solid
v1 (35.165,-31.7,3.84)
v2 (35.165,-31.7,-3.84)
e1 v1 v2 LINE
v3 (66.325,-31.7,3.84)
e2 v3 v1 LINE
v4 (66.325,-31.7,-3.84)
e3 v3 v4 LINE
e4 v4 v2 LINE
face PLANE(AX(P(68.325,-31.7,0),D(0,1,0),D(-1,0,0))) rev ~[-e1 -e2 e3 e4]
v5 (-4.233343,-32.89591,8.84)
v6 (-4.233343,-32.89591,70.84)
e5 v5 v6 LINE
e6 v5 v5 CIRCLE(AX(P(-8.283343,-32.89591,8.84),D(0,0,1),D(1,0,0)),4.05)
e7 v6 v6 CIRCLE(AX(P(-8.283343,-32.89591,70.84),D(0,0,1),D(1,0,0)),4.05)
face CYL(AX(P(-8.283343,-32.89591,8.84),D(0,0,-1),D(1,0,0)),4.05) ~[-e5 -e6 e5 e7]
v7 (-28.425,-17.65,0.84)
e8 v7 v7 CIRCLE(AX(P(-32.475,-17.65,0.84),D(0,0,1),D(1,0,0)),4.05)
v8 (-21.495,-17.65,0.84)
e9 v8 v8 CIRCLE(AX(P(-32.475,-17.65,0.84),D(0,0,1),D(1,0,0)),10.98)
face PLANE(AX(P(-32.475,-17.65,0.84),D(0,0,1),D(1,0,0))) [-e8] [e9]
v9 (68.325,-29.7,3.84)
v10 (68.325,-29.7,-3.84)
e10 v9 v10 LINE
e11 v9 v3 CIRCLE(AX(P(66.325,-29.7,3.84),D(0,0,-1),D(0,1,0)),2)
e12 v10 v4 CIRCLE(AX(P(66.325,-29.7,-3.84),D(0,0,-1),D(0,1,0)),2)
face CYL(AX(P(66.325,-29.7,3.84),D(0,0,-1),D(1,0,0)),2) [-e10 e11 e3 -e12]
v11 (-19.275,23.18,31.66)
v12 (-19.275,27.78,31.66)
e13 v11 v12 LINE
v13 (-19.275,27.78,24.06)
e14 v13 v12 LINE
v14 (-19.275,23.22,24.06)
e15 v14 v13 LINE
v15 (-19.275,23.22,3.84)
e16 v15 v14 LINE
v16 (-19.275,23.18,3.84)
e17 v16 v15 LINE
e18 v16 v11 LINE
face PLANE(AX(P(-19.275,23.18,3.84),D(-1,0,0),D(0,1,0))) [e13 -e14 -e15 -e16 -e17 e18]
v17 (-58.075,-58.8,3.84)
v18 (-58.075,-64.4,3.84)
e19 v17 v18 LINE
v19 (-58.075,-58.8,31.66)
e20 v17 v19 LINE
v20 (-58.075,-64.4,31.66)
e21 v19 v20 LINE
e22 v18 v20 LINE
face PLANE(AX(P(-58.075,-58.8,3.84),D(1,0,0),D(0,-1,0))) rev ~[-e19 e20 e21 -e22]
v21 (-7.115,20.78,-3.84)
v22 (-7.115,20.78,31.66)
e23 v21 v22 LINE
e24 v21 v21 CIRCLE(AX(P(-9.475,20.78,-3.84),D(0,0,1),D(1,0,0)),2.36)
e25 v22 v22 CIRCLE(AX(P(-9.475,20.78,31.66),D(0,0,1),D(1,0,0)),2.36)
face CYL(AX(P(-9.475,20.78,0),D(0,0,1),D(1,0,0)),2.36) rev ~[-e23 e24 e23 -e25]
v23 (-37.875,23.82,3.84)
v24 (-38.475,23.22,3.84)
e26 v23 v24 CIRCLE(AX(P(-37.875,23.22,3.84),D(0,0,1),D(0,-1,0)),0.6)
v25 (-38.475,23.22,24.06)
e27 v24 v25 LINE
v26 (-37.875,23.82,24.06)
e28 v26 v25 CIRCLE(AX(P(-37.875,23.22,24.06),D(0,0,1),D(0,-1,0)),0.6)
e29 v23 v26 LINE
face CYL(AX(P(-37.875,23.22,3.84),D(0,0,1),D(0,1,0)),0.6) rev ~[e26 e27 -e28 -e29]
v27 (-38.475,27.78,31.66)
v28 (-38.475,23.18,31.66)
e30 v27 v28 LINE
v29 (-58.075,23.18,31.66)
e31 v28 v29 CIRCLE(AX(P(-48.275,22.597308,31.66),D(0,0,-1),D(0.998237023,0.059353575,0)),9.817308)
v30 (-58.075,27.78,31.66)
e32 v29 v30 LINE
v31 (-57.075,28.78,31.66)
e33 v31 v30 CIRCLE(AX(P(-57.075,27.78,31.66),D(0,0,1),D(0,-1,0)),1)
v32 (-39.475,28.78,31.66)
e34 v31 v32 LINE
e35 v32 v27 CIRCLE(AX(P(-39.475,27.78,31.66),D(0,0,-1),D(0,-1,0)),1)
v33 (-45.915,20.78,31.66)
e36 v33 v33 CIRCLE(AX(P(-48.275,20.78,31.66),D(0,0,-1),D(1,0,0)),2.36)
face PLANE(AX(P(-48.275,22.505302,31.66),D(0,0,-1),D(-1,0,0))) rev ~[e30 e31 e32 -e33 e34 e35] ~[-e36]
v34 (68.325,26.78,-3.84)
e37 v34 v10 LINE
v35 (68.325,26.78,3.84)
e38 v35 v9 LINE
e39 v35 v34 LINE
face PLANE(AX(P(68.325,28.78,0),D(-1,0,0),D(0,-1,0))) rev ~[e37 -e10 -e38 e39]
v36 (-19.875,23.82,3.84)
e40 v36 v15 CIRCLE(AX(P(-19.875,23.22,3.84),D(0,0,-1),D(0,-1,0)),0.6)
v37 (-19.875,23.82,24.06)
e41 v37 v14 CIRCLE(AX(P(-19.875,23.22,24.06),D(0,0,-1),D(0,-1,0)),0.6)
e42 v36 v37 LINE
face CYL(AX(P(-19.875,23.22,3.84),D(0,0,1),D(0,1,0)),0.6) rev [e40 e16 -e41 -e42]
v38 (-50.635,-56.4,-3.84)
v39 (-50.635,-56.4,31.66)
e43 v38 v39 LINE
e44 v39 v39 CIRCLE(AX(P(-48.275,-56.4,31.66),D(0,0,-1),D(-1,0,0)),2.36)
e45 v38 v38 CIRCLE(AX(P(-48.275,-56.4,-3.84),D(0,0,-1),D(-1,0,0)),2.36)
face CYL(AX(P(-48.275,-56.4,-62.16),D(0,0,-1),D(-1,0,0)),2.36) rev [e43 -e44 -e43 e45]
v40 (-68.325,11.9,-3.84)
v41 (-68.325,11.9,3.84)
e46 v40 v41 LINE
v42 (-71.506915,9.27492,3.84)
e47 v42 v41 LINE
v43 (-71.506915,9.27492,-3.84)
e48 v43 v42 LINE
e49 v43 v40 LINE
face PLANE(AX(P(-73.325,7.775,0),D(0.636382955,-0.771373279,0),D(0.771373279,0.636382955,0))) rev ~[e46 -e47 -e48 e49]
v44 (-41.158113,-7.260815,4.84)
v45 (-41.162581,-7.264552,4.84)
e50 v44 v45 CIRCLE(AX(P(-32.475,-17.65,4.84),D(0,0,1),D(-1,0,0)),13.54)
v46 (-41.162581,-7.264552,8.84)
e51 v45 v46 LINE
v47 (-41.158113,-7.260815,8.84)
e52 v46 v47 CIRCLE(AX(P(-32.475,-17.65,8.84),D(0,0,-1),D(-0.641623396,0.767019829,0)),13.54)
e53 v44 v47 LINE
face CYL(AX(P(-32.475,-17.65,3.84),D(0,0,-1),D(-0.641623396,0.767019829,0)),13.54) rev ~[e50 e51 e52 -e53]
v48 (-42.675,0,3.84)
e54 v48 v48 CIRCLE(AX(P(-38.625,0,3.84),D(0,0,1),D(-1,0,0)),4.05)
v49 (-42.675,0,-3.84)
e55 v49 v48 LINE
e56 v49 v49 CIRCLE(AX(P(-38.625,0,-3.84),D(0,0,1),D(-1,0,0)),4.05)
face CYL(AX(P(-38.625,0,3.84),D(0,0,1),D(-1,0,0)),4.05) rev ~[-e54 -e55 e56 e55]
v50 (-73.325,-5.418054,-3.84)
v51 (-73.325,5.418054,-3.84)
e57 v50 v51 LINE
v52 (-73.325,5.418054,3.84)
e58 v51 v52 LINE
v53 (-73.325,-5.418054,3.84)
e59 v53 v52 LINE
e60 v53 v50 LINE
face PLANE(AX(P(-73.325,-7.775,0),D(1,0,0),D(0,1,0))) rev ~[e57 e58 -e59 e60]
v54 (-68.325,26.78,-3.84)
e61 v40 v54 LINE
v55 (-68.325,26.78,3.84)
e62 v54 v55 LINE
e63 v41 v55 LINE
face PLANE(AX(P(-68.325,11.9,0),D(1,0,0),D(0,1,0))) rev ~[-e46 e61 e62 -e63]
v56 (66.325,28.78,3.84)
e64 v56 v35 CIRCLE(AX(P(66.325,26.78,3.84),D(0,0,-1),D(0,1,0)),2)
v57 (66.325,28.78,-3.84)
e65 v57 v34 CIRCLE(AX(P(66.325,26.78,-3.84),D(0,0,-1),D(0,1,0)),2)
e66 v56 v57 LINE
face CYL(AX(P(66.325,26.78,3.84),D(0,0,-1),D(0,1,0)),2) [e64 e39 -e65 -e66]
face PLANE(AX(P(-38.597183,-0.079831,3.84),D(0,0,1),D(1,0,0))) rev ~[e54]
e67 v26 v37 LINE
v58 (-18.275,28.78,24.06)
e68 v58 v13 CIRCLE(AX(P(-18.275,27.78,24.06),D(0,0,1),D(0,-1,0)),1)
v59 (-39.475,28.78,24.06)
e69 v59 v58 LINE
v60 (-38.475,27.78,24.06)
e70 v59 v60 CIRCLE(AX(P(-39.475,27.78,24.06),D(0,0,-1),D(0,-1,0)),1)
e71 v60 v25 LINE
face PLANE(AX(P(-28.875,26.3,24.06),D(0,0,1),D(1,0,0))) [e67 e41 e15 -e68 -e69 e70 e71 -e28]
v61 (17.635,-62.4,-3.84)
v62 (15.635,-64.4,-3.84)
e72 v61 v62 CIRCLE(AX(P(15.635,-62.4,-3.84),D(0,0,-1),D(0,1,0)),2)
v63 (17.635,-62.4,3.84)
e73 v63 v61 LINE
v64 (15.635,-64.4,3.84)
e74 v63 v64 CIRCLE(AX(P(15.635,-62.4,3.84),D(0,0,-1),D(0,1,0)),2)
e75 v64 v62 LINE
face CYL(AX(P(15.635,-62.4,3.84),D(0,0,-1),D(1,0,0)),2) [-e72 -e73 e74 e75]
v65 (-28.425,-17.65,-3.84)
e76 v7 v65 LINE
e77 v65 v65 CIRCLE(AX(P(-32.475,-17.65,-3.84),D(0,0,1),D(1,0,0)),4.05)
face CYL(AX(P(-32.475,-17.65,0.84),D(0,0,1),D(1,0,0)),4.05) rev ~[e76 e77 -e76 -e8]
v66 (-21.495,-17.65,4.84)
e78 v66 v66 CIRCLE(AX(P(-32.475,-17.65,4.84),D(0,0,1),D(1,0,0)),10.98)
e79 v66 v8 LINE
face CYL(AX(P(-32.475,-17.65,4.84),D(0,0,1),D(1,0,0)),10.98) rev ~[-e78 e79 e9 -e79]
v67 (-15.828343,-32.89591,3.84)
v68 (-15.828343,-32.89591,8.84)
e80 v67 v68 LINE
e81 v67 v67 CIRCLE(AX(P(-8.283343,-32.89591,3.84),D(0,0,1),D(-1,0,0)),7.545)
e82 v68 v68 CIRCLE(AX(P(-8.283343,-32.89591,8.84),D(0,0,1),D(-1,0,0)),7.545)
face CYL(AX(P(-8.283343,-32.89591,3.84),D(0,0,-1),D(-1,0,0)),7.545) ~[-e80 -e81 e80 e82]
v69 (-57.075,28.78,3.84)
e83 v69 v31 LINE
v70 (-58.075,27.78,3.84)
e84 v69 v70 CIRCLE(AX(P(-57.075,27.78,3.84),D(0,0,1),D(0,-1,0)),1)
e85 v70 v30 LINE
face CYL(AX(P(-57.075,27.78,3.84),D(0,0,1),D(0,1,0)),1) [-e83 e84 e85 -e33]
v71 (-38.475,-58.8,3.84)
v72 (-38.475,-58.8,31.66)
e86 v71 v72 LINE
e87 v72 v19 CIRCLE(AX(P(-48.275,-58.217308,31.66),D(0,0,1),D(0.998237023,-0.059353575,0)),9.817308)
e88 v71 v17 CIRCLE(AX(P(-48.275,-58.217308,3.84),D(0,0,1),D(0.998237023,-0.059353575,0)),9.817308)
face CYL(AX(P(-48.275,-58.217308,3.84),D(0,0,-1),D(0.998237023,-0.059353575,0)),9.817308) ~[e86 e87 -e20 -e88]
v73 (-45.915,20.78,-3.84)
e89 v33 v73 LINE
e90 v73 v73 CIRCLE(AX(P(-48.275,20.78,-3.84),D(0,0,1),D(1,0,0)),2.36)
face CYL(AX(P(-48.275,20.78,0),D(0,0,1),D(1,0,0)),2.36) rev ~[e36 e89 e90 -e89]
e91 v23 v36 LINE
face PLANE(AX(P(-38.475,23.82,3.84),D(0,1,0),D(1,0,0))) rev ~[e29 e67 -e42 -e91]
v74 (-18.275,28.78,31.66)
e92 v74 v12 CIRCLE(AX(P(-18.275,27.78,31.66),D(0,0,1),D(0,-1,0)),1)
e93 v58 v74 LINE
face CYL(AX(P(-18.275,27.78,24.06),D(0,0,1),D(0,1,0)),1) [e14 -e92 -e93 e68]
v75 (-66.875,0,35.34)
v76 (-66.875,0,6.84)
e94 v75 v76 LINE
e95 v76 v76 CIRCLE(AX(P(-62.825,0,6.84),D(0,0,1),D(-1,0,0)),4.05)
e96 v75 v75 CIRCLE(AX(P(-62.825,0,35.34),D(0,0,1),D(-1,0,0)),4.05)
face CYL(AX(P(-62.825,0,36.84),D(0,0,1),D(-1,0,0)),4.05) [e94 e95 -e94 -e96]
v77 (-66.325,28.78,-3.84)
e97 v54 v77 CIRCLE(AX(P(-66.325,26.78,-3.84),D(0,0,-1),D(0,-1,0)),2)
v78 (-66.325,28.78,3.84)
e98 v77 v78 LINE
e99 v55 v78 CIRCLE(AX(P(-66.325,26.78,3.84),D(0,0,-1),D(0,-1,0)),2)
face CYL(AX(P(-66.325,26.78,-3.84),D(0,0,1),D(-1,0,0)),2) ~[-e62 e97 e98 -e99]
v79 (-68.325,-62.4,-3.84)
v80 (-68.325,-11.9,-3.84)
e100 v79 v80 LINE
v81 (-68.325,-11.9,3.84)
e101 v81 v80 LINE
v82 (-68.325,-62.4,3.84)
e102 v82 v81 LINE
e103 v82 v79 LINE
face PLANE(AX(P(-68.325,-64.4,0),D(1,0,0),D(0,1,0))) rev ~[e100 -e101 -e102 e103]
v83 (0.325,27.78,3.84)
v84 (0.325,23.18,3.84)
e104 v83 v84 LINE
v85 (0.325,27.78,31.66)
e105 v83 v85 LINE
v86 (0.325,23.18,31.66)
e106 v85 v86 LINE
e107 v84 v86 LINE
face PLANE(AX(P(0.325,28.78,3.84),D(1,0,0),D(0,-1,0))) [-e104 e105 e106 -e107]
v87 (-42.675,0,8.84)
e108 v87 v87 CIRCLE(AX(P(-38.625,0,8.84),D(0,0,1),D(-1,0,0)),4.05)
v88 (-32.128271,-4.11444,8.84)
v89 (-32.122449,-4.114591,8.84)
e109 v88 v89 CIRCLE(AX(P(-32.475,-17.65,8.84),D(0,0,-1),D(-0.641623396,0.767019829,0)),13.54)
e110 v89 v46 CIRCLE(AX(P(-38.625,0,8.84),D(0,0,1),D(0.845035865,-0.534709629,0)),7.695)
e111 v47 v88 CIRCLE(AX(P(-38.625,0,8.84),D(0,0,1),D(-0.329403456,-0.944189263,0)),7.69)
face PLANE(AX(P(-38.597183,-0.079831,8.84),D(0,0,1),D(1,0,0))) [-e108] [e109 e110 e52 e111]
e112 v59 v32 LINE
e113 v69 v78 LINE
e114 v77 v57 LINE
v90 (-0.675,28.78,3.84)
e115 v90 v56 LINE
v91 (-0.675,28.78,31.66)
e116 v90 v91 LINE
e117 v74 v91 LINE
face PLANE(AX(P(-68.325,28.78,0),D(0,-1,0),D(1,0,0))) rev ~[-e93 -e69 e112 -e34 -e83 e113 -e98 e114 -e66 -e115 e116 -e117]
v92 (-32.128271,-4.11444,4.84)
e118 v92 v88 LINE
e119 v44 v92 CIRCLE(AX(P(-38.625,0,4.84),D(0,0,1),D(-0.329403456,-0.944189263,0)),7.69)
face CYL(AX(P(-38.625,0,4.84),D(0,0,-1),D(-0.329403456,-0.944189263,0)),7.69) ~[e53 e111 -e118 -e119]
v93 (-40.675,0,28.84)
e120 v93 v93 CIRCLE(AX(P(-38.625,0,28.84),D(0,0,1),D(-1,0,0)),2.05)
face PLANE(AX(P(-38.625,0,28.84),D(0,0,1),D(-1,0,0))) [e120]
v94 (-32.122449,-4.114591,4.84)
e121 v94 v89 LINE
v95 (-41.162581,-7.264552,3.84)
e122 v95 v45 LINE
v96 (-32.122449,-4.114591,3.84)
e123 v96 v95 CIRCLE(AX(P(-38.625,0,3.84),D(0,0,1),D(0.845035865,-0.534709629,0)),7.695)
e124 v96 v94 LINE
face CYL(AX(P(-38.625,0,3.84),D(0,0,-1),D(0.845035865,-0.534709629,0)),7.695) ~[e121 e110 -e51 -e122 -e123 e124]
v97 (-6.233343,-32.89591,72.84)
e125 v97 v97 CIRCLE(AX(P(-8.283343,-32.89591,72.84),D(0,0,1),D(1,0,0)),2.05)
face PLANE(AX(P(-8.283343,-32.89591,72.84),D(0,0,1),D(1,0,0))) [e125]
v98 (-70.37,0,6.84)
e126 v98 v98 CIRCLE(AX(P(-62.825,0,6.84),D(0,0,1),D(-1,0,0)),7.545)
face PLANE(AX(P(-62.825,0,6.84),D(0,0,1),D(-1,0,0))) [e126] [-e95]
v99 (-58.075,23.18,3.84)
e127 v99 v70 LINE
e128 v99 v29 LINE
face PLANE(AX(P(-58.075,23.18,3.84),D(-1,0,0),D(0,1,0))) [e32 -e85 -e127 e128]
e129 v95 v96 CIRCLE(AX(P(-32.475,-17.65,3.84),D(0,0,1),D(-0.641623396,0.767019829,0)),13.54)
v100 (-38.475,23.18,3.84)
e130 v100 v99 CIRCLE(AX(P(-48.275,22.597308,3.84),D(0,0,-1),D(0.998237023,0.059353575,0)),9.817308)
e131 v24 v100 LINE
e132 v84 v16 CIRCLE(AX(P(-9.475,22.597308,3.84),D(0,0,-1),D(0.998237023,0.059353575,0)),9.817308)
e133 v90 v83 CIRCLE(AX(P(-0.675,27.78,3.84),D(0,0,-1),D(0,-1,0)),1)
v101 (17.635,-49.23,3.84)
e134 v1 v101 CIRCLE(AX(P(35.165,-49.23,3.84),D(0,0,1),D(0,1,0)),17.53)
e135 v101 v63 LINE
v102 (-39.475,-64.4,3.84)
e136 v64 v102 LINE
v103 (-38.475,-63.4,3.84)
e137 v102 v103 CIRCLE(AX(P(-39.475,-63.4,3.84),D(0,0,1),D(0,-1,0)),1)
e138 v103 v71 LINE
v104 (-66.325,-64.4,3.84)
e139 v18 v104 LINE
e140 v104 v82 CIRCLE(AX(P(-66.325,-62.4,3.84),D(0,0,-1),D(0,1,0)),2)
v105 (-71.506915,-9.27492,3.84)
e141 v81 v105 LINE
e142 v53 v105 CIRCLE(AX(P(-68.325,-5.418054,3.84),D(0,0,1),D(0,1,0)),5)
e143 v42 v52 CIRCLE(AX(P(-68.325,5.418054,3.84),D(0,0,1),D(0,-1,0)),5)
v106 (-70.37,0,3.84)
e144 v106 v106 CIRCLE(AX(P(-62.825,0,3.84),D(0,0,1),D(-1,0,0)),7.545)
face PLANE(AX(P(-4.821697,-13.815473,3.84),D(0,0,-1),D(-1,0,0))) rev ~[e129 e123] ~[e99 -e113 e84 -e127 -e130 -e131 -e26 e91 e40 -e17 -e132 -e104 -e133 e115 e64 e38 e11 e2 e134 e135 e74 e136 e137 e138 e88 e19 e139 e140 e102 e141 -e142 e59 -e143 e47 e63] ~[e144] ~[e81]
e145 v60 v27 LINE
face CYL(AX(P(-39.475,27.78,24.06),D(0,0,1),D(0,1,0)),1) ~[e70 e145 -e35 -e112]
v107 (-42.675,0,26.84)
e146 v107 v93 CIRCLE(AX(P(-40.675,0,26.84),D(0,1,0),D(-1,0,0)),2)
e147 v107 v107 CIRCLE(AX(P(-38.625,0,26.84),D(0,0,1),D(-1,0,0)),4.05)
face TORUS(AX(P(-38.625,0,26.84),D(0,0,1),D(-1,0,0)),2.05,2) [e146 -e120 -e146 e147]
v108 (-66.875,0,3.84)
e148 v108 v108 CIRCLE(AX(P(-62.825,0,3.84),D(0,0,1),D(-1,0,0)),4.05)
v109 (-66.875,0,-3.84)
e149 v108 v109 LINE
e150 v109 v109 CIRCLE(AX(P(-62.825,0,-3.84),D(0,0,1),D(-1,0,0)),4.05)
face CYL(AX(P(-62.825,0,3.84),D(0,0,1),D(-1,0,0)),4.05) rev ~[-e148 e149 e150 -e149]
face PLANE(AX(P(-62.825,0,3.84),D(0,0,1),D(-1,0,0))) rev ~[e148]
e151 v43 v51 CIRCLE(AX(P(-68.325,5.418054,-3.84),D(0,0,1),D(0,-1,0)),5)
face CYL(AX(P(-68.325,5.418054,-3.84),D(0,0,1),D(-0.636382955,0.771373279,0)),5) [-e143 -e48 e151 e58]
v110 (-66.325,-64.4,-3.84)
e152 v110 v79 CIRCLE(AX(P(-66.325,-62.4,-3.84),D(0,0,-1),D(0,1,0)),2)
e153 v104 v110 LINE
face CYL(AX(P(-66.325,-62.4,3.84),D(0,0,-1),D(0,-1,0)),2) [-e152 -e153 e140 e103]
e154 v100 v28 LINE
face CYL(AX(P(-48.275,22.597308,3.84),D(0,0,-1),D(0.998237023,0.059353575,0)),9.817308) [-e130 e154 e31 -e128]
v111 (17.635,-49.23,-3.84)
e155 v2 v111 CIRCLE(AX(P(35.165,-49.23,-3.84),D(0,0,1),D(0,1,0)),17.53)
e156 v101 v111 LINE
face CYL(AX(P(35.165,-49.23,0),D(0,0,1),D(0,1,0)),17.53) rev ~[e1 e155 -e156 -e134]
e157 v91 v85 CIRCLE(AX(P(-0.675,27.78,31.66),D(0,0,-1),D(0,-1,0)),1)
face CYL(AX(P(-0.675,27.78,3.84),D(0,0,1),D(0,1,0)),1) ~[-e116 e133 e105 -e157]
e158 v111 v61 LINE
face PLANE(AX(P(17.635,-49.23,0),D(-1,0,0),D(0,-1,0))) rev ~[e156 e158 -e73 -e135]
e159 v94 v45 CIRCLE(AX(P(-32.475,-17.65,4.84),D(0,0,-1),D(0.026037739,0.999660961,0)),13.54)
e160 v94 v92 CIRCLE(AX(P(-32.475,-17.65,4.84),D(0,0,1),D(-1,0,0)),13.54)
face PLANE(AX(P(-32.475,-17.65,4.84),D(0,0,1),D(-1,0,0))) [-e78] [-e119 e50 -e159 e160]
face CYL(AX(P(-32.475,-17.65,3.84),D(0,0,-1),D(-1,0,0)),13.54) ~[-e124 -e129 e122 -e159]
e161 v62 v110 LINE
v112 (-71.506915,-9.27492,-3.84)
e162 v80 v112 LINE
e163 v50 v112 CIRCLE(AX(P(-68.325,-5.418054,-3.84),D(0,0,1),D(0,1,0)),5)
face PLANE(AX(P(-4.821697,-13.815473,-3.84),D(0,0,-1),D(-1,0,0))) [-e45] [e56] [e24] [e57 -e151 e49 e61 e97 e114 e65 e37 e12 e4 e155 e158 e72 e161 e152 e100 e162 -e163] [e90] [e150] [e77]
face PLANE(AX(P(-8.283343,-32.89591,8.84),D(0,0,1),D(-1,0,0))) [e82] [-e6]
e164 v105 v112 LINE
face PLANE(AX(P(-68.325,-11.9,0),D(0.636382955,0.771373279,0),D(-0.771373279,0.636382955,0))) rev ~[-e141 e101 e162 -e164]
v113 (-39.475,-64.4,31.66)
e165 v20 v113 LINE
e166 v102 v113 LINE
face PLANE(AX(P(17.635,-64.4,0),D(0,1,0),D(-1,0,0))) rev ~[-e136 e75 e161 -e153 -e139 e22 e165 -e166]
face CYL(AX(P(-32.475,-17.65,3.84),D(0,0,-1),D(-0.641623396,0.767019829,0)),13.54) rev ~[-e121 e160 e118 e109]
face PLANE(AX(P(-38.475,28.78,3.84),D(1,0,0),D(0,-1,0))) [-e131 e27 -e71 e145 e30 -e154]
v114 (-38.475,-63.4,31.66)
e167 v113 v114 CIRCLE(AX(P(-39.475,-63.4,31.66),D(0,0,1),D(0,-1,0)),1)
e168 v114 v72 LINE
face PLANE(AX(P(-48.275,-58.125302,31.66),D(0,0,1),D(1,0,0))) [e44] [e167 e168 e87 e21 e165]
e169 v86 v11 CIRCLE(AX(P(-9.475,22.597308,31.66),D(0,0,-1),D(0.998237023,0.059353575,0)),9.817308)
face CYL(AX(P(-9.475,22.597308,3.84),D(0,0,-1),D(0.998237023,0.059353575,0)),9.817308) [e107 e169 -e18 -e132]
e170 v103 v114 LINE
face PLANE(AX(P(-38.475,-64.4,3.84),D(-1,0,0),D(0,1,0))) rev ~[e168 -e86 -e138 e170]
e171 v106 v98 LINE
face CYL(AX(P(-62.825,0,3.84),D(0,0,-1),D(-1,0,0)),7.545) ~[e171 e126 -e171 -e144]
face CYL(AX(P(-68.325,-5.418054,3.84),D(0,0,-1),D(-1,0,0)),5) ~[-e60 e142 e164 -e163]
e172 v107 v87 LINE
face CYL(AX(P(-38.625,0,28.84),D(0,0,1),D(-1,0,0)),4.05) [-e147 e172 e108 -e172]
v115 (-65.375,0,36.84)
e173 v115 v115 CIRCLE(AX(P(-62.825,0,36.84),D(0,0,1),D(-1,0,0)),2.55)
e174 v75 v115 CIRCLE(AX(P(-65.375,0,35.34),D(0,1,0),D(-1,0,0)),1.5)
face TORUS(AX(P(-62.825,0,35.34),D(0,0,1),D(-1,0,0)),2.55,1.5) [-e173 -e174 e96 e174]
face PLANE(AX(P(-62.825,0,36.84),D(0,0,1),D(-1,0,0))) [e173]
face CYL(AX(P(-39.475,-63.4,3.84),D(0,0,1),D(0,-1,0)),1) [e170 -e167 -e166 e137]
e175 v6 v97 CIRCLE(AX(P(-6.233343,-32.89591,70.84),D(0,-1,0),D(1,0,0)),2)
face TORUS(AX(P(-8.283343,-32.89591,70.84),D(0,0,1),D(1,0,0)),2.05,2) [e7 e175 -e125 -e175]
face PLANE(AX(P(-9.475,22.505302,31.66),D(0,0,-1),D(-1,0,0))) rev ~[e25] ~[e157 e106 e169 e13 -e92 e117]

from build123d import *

# Parameters (mm, degrees)
SALIENTE_EXTRUIR1_DEPTH    = 3.84
SALIENTE_EXTRUIR2_DEPTH    = 27.82
CROQUIS5_W                 = 19.2
CROQUIS5_H                 = 4.96
SALIENTE_EXTRUIR3_DEPTH    = 20.22
REDONDEO1_R                = 0.6
REDONDEO4_R                = 0.6
CROQUIS6_R                 = 2.36
CORTAR_EXTRUIR1_DEPTH      = 53.95
SALIENTE_EXTRUIR6_DEPTH    = 27.82
CORTAR_EXTRUIR9_DEPTH      = 53
CORTAR_EXTRUIR9_DEPTH_BACK = 66
CROQUIS10_R                = 2.36
REDONDEO5_R                = 5
REDONDEO6_R                = 5
CROQUIS12_R                = 4.05
CORTAR_EXTRUIR10_DEPTH     = 15
REDONDEO8_R                = 2
REDONDEO9_R                = 1
REDONDEO10_R               = 1
REDONDEO12_R               = 2
REDONDEO13_R               = 1
REDONDEO14_R               = 1
REDONDEO15_R               = 2
REDONDEO16_R               = 2
REDONDEO17_R               = 2
REDONDEO18_R               = 1
CROQUIS14_R                = 13.54
SALIENTE_EXTRUIR7_DEPTH    = 1
CROQUIS15_R                = 10.98
CORTAR_EXTRUIR12_DEPTH     = 4
CROQUIS16_R                = 4.05
CORTAR_EXTRUIR13_DEPTH     = 24
CROQUIS17_R                = 7.545
SALIENTE_EXTRUIR8_DEPTH    = 3
SALIENTE_EXTRUIR9_DEPTH    = 5
SALIENTE_EXTRUIR10_DEPTH   = 4
SALIENTE_EXTRUIR11_START   = 20
CROQUIS23_R                = 4.05
SALIENTE_EXTRUIR11_DEPTH   = 20
SALIENTE_EXTRUIR12_START   = 30
CROQUIS18_R                = 4.05
SALIENTE_EXTRUIR12_DEPTH   = 30
REDONDEO19_R               = 1.5
REDONDEO20_R               = 2
CROQUIS24_R                = 7.545
SALIENTE_EXTRUIR13_DEPTH   = 5
CROQUIS25_R                = 4.05
SALIENTE_EXTRUIR14_DEPTH   = 64
REDONDEO21_R               = 2


with BuildPart() as part:
    # Croquis1 → Saliente-Extruir1 (new, symmetric)
    with BuildSketch(Plane.XY):
        with BuildLine():
            Line((-68.325, 28.78), (68.325, 28.78))
            Line((68.325, 28.78), (68.325, -31.7))
            Line((68.325, -31.7), (35.165, -31.7))
            ThreePointArc((35.165, -31.7), (22.769418126, -36.834418126), (17.635, -49.23))
            Line((17.635, -49.23), (17.635, -64.4))
            Line((17.635, -64.4), (-68.325, -64.4))
            Line((-68.325, -64.4), (-68.325, -11.9))
            Line((-68.325, -11.9), (-73.325, -7.775))
            Line((-73.325, -7.775), (-73.325, 7.775))
            Line((-73.325, 7.775), (-68.325, 11.9))
            Line((-68.325, 11.9), (-68.325, 28.78))
        make_face()
    extrude(amount=SALIENTE_EXTRUIR1_DEPTH, both=True)

    # Croquis2 → Saliente-Extruir2 (add)
    with BuildSketch(Plane.XY.offset(3.84)):
        with BuildLine():
            Line((-58.075, 23.18), (-58.075, 28.78))
            Line((-58.075, 28.78), (-38.475, 28.78))
            Line((-38.475, 28.78), (-38.475, 23.18))
            ThreePointArc((-38.475, 23.18), (-48.275, 12.78), (-58.075, 23.18))
        make_face()
        with BuildLine():
            Line((-19.275, 23.18), (-19.275, 28.78))
            Line((-19.275, 28.78), (0.325, 28.78))
            Line((0.325, 28.78), (0.325, 23.18))
            ThreePointArc((0.325, 23.18), (-9.475, 12.78), (-19.275, 23.18))
        make_face()
    extrude(amount=SALIENTE_EXTRUIR2_DEPTH)

    # Croquis5 → Saliente-Extruir3 (add)
    with BuildSketch(Plane.XY.offset(3.84)):
        with Locations((-28.875, 26.3)):
            Rectangle(CROQUIS5_W, CROQUIS5_H)
    extrude(amount=SALIENTE_EXTRUIR3_DEPTH)

    # Redondeo1
    redondeo1_edges = [part.edges().sort_by_distance(p)[0] for p in [
        (-38.475, 23.82, 13.95),
    ]]
    fillet(redondeo1_edges, radius=REDONDEO1_R)

    # Redondeo4
    redondeo4_edges = [part.edges().sort_by_distance(p)[0] for p in [
        (-19.275, 23.82, 13.95),
    ]]
    fillet(redondeo4_edges, radius=REDONDEO4_R)

    # Croquis6 → Cortar-Extruir1 (cut, symmetric)
    with BuildSketch(Plane.XY):
        with Locations((-48.275, 20.78)):
            Circle(CROQUIS6_R)
        with Locations((-9.475, 20.78)):
            Circle(CROQUIS6_R)
    extrude(amount=CORTAR_EXTRUIR1_DEPTH, both=True, mode=Mode.SUBTRACT)

    # Croquis9 → Saliente-Extruir6 (add)
    with BuildSketch(Plane.XY.offset(3.84)):
        with BuildLine():
            Line((-58.075, -58.8), (-58.075, -64.4))
            Line((-58.075, -64.4), (-38.475, -64.4))
            Line((-38.475, -64.4), (-38.475, -58.8))
            ThreePointArc((-38.475, -58.8), (-48.275, -48.4), (-58.075, -58.8))
        make_face()
    extrude(amount=SALIENTE_EXTRUIR6_DEPTH)

    # Croquis10 → Cortar-Extruir9 (cut, two sides: drawn at the far end of the back side and taken through both)
    with BuildSketch(Plane.XY.offset(3.84).offset(-CORTAR_EXTRUIR9_DEPTH_BACK)):
        with Locations(Location((-48.275, -56.4, 0), (0, 0, 180))):
            Circle(CROQUIS10_R)
    extrude(amount=CORTAR_EXTRUIR9_DEPTH + CORTAR_EXTRUIR9_DEPTH_BACK, mode=Mode.SUBTRACT)

    # Redondeo5
    redondeo5_edges = [part.edges().sort_by_distance(p)[0] for p in [
        (-73.325, -7.775, 0),
    ]]
    fillet(redondeo5_edges, radius=REDONDEO5_R)

    # Redondeo6
    redondeo6_edges = [part.edges().sort_by_distance(p)[0] for p in [
        (-73.325, 7.775, 0),
    ]]
    fillet(redondeo6_edges, radius=REDONDEO6_R)

    # Croquis12 → Cortar-Extruir10 (cut, symmetric)
    with BuildSketch(Plane.XY.offset(3.84)):
        with Locations(Location((-62.825, 0, 0), (0, 0, 180))):
            Circle(CROQUIS12_R)
        with Locations(Location((-38.625, 0, 0), (0, 0, 180))):
            Circle(CROQUIS12_R)
    extrude(amount=CORTAR_EXTRUIR10_DEPTH, both=True, mode=Mode.SUBTRACT)

    # Redondeo8
    redondeo8_edges = [part.edges().sort_by_distance(p)[0] for p in [
        (-68.325, 28.78, 0),
    ]]
    fillet(redondeo8_edges, radius=REDONDEO8_R)

    # Redondeo9
    redondeo9_edges = [part.edges().sort_by_distance(p)[0] for p in [
        (-58.075, 28.78, 17.75),
    ]]
    fillet(redondeo9_edges, radius=REDONDEO9_R)

    # Redondeo10
    redondeo10_edges = [part.edges().sort_by_distance(p)[0] for p in [
        (-19.275, 28.78, 27.86),
    ]]
    fillet(redondeo10_edges, radius=REDONDEO10_R)

    # Redondeo12
    redondeo12_edges = [part.edges().sort_by_distance(p)[0] for p in [
        (-68.325, -64.4, 0),
    ]]
    fillet(redondeo12_edges, radius=REDONDEO12_R)

    # Redondeo13
    redondeo13_edges = [part.edges().sort_by_distance(p)[0] for p in [
        (-38.475, 28.78, 27.86),
    ]]
    fillet(redondeo13_edges, radius=REDONDEO13_R)

    # Redondeo14
    redondeo14_edges = [part.edges().sort_by_distance(p)[0] for p in [
        (0.325, 28.78, 17.75),
    ]]
    fillet(redondeo14_edges, radius=REDONDEO14_R)

    # Redondeo15
    redondeo15_edges = [part.edges().sort_by_distance(p)[0] for p in [
        (68.325, 28.78, 0),
    ]]
    fillet(redondeo15_edges, radius=REDONDEO15_R)

    # Redondeo16
    redondeo16_edges = [part.edges().sort_by_distance(p)[0] for p in [
        (68.325, -31.7, 0),
    ]]
    fillet(redondeo16_edges, radius=REDONDEO16_R)

    # Redondeo17
    redondeo17_edges = [part.edges().sort_by_distance(p)[0] for p in [
        (17.635, -64.4, 0),
    ]]
    fillet(redondeo17_edges, radius=REDONDEO17_R)

    # Redondeo18
    redondeo18_edges = [part.edges().sort_by_distance(p)[0] for p in [
        (-38.475, -64.4, 17.75),
    ]]
    fillet(redondeo18_edges, radius=REDONDEO18_R)

    # Croquis14 → Saliente-Extruir7 (add)
    with BuildSketch(Plane.XY.offset(3.84)):
        with Locations(Location((-32.475, -17.65, 0), (0, 0, 180))):
            Circle(CROQUIS14_R)
    extrude(amount=SALIENTE_EXTRUIR7_DEPTH)

    # Croquis15 → Cortar-Extruir12 (cut)
    with BuildSketch(Plane.XY.offset(4.84)):
        with Locations((-32.475, -17.65)):
            Circle(CROQUIS15_R)
    extrude(amount=-CORTAR_EXTRUIR12_DEPTH, mode=Mode.SUBTRACT)

    # Croquis16 → Cortar-Extruir13 (cut)
    with BuildSketch(Plane.XY.offset(0.84)):
        with Locations((-32.475, -17.65)):
            Circle(CROQUIS16_R)
    extrude(amount=-CORTAR_EXTRUIR13_DEPTH, mode=Mode.SUBTRACT)

    # Croquis17 → Saliente-Extruir8 (add)
    with BuildSketch(Plane.XY.offset(3.84)):
        with Locations(Location((-62.825, 0, 0), (0, 0, 180))):
            Circle(CROQUIS17_R)
    extrude(amount=SALIENTE_EXTRUIR8_DEPTH)

    # Croquis20 → Saliente-Extruir9 (add)
    with BuildSketch(Plane.XY.offset(3.84)):
        with BuildLine():
            ThreePointArc((-32.12244902, -4.114590593), (-41.156957864, 7.26651322), (-41.162580782, -7.264551519))
            ThreePointArc((-41.162580782, -7.264551519), (-36.930192915, -4.863958545), (-32.12244902, -4.114590593))
        make_face()
    extrude(amount=SALIENTE_EXTRUIR9_DEPTH)

    # Croquis22 → Saliente-Extruir10 (add)
    with BuildSketch(Plane.XY.offset(4.84)):
        with BuildLine():
            ThreePointArc((-41.158112573, -7.260815429), (-36.094687333, -7.261791639), (-32.128271446, -4.114440192))
            ThreePointArc((-32.128271446, -4.114440192), (-36.930192915, -4.863958545), (-41.158112573, -7.260815429))
        make_face()
    extrude(amount=SALIENTE_EXTRUIR10_DEPTH)

    # Croquis23 → Saliente-Extruir11 (add)
    with BuildSketch(Plane.XY.offset(8.84).offset(SALIENTE_EXTRUIR11_START)):
        with Locations(Location((-38.625, 0, 0), (0, 0, 180))):
            Circle(CROQUIS23_R)
    extrude(amount=-SALIENTE_EXTRUIR11_DEPTH)

    # Croquis18 → Saliente-Extruir12 (add)
    with BuildSketch(Plane.XY.offset(6.84).offset(SALIENTE_EXTRUIR12_START)):
        with Locations(Location((-62.825, 0, 0), (0, 0, 180))):
            Circle(CROQUIS18_R)
    extrude(amount=-SALIENTE_EXTRUIR12_DEPTH)

    # Redondeo19
    redondeo19_edges = [part.edges().sort_by_distance(p)[0] for p in [
        (-58.775, 0, 36.84),
    ]]
    fillet(redondeo19_edges, radius=REDONDEO19_R)

    # Redondeo20
    redondeo20_edges = [part.edges().sort_by_distance(p)[0] for p in [
        (-34.575, 0, 28.84),
    ]]
    fillet(redondeo20_edges, radius=REDONDEO20_R)

    # Croquis24 → Saliente-Extruir13 (add)
    with BuildSketch(Plane.XY.offset(3.84)):
        with Locations(Location((-8.283343025, -32.895909544, 0), (0, 0, 180))):
            Circle(CROQUIS24_R)
    extrude(amount=SALIENTE_EXTRUIR13_DEPTH)

    # Croquis25 → Saliente-Extruir14 (add)
    with BuildSketch(Plane.XY.offset(8.84)):
        with Locations((-8.283343025, -32.895909544)):
            Circle(CROQUIS25_R)
    extrude(amount=SALIENTE_EXTRUIR14_DEPTH)

    # Redondeo21
    redondeo21_edges = [part.edges().sort_by_distance(p)[0] for p in [
        (-12.333343025, -32.895909544, 72.84),
    ]]
    fillet(redondeo21_edges, radius=REDONDEO21_R)


solid = part.part
